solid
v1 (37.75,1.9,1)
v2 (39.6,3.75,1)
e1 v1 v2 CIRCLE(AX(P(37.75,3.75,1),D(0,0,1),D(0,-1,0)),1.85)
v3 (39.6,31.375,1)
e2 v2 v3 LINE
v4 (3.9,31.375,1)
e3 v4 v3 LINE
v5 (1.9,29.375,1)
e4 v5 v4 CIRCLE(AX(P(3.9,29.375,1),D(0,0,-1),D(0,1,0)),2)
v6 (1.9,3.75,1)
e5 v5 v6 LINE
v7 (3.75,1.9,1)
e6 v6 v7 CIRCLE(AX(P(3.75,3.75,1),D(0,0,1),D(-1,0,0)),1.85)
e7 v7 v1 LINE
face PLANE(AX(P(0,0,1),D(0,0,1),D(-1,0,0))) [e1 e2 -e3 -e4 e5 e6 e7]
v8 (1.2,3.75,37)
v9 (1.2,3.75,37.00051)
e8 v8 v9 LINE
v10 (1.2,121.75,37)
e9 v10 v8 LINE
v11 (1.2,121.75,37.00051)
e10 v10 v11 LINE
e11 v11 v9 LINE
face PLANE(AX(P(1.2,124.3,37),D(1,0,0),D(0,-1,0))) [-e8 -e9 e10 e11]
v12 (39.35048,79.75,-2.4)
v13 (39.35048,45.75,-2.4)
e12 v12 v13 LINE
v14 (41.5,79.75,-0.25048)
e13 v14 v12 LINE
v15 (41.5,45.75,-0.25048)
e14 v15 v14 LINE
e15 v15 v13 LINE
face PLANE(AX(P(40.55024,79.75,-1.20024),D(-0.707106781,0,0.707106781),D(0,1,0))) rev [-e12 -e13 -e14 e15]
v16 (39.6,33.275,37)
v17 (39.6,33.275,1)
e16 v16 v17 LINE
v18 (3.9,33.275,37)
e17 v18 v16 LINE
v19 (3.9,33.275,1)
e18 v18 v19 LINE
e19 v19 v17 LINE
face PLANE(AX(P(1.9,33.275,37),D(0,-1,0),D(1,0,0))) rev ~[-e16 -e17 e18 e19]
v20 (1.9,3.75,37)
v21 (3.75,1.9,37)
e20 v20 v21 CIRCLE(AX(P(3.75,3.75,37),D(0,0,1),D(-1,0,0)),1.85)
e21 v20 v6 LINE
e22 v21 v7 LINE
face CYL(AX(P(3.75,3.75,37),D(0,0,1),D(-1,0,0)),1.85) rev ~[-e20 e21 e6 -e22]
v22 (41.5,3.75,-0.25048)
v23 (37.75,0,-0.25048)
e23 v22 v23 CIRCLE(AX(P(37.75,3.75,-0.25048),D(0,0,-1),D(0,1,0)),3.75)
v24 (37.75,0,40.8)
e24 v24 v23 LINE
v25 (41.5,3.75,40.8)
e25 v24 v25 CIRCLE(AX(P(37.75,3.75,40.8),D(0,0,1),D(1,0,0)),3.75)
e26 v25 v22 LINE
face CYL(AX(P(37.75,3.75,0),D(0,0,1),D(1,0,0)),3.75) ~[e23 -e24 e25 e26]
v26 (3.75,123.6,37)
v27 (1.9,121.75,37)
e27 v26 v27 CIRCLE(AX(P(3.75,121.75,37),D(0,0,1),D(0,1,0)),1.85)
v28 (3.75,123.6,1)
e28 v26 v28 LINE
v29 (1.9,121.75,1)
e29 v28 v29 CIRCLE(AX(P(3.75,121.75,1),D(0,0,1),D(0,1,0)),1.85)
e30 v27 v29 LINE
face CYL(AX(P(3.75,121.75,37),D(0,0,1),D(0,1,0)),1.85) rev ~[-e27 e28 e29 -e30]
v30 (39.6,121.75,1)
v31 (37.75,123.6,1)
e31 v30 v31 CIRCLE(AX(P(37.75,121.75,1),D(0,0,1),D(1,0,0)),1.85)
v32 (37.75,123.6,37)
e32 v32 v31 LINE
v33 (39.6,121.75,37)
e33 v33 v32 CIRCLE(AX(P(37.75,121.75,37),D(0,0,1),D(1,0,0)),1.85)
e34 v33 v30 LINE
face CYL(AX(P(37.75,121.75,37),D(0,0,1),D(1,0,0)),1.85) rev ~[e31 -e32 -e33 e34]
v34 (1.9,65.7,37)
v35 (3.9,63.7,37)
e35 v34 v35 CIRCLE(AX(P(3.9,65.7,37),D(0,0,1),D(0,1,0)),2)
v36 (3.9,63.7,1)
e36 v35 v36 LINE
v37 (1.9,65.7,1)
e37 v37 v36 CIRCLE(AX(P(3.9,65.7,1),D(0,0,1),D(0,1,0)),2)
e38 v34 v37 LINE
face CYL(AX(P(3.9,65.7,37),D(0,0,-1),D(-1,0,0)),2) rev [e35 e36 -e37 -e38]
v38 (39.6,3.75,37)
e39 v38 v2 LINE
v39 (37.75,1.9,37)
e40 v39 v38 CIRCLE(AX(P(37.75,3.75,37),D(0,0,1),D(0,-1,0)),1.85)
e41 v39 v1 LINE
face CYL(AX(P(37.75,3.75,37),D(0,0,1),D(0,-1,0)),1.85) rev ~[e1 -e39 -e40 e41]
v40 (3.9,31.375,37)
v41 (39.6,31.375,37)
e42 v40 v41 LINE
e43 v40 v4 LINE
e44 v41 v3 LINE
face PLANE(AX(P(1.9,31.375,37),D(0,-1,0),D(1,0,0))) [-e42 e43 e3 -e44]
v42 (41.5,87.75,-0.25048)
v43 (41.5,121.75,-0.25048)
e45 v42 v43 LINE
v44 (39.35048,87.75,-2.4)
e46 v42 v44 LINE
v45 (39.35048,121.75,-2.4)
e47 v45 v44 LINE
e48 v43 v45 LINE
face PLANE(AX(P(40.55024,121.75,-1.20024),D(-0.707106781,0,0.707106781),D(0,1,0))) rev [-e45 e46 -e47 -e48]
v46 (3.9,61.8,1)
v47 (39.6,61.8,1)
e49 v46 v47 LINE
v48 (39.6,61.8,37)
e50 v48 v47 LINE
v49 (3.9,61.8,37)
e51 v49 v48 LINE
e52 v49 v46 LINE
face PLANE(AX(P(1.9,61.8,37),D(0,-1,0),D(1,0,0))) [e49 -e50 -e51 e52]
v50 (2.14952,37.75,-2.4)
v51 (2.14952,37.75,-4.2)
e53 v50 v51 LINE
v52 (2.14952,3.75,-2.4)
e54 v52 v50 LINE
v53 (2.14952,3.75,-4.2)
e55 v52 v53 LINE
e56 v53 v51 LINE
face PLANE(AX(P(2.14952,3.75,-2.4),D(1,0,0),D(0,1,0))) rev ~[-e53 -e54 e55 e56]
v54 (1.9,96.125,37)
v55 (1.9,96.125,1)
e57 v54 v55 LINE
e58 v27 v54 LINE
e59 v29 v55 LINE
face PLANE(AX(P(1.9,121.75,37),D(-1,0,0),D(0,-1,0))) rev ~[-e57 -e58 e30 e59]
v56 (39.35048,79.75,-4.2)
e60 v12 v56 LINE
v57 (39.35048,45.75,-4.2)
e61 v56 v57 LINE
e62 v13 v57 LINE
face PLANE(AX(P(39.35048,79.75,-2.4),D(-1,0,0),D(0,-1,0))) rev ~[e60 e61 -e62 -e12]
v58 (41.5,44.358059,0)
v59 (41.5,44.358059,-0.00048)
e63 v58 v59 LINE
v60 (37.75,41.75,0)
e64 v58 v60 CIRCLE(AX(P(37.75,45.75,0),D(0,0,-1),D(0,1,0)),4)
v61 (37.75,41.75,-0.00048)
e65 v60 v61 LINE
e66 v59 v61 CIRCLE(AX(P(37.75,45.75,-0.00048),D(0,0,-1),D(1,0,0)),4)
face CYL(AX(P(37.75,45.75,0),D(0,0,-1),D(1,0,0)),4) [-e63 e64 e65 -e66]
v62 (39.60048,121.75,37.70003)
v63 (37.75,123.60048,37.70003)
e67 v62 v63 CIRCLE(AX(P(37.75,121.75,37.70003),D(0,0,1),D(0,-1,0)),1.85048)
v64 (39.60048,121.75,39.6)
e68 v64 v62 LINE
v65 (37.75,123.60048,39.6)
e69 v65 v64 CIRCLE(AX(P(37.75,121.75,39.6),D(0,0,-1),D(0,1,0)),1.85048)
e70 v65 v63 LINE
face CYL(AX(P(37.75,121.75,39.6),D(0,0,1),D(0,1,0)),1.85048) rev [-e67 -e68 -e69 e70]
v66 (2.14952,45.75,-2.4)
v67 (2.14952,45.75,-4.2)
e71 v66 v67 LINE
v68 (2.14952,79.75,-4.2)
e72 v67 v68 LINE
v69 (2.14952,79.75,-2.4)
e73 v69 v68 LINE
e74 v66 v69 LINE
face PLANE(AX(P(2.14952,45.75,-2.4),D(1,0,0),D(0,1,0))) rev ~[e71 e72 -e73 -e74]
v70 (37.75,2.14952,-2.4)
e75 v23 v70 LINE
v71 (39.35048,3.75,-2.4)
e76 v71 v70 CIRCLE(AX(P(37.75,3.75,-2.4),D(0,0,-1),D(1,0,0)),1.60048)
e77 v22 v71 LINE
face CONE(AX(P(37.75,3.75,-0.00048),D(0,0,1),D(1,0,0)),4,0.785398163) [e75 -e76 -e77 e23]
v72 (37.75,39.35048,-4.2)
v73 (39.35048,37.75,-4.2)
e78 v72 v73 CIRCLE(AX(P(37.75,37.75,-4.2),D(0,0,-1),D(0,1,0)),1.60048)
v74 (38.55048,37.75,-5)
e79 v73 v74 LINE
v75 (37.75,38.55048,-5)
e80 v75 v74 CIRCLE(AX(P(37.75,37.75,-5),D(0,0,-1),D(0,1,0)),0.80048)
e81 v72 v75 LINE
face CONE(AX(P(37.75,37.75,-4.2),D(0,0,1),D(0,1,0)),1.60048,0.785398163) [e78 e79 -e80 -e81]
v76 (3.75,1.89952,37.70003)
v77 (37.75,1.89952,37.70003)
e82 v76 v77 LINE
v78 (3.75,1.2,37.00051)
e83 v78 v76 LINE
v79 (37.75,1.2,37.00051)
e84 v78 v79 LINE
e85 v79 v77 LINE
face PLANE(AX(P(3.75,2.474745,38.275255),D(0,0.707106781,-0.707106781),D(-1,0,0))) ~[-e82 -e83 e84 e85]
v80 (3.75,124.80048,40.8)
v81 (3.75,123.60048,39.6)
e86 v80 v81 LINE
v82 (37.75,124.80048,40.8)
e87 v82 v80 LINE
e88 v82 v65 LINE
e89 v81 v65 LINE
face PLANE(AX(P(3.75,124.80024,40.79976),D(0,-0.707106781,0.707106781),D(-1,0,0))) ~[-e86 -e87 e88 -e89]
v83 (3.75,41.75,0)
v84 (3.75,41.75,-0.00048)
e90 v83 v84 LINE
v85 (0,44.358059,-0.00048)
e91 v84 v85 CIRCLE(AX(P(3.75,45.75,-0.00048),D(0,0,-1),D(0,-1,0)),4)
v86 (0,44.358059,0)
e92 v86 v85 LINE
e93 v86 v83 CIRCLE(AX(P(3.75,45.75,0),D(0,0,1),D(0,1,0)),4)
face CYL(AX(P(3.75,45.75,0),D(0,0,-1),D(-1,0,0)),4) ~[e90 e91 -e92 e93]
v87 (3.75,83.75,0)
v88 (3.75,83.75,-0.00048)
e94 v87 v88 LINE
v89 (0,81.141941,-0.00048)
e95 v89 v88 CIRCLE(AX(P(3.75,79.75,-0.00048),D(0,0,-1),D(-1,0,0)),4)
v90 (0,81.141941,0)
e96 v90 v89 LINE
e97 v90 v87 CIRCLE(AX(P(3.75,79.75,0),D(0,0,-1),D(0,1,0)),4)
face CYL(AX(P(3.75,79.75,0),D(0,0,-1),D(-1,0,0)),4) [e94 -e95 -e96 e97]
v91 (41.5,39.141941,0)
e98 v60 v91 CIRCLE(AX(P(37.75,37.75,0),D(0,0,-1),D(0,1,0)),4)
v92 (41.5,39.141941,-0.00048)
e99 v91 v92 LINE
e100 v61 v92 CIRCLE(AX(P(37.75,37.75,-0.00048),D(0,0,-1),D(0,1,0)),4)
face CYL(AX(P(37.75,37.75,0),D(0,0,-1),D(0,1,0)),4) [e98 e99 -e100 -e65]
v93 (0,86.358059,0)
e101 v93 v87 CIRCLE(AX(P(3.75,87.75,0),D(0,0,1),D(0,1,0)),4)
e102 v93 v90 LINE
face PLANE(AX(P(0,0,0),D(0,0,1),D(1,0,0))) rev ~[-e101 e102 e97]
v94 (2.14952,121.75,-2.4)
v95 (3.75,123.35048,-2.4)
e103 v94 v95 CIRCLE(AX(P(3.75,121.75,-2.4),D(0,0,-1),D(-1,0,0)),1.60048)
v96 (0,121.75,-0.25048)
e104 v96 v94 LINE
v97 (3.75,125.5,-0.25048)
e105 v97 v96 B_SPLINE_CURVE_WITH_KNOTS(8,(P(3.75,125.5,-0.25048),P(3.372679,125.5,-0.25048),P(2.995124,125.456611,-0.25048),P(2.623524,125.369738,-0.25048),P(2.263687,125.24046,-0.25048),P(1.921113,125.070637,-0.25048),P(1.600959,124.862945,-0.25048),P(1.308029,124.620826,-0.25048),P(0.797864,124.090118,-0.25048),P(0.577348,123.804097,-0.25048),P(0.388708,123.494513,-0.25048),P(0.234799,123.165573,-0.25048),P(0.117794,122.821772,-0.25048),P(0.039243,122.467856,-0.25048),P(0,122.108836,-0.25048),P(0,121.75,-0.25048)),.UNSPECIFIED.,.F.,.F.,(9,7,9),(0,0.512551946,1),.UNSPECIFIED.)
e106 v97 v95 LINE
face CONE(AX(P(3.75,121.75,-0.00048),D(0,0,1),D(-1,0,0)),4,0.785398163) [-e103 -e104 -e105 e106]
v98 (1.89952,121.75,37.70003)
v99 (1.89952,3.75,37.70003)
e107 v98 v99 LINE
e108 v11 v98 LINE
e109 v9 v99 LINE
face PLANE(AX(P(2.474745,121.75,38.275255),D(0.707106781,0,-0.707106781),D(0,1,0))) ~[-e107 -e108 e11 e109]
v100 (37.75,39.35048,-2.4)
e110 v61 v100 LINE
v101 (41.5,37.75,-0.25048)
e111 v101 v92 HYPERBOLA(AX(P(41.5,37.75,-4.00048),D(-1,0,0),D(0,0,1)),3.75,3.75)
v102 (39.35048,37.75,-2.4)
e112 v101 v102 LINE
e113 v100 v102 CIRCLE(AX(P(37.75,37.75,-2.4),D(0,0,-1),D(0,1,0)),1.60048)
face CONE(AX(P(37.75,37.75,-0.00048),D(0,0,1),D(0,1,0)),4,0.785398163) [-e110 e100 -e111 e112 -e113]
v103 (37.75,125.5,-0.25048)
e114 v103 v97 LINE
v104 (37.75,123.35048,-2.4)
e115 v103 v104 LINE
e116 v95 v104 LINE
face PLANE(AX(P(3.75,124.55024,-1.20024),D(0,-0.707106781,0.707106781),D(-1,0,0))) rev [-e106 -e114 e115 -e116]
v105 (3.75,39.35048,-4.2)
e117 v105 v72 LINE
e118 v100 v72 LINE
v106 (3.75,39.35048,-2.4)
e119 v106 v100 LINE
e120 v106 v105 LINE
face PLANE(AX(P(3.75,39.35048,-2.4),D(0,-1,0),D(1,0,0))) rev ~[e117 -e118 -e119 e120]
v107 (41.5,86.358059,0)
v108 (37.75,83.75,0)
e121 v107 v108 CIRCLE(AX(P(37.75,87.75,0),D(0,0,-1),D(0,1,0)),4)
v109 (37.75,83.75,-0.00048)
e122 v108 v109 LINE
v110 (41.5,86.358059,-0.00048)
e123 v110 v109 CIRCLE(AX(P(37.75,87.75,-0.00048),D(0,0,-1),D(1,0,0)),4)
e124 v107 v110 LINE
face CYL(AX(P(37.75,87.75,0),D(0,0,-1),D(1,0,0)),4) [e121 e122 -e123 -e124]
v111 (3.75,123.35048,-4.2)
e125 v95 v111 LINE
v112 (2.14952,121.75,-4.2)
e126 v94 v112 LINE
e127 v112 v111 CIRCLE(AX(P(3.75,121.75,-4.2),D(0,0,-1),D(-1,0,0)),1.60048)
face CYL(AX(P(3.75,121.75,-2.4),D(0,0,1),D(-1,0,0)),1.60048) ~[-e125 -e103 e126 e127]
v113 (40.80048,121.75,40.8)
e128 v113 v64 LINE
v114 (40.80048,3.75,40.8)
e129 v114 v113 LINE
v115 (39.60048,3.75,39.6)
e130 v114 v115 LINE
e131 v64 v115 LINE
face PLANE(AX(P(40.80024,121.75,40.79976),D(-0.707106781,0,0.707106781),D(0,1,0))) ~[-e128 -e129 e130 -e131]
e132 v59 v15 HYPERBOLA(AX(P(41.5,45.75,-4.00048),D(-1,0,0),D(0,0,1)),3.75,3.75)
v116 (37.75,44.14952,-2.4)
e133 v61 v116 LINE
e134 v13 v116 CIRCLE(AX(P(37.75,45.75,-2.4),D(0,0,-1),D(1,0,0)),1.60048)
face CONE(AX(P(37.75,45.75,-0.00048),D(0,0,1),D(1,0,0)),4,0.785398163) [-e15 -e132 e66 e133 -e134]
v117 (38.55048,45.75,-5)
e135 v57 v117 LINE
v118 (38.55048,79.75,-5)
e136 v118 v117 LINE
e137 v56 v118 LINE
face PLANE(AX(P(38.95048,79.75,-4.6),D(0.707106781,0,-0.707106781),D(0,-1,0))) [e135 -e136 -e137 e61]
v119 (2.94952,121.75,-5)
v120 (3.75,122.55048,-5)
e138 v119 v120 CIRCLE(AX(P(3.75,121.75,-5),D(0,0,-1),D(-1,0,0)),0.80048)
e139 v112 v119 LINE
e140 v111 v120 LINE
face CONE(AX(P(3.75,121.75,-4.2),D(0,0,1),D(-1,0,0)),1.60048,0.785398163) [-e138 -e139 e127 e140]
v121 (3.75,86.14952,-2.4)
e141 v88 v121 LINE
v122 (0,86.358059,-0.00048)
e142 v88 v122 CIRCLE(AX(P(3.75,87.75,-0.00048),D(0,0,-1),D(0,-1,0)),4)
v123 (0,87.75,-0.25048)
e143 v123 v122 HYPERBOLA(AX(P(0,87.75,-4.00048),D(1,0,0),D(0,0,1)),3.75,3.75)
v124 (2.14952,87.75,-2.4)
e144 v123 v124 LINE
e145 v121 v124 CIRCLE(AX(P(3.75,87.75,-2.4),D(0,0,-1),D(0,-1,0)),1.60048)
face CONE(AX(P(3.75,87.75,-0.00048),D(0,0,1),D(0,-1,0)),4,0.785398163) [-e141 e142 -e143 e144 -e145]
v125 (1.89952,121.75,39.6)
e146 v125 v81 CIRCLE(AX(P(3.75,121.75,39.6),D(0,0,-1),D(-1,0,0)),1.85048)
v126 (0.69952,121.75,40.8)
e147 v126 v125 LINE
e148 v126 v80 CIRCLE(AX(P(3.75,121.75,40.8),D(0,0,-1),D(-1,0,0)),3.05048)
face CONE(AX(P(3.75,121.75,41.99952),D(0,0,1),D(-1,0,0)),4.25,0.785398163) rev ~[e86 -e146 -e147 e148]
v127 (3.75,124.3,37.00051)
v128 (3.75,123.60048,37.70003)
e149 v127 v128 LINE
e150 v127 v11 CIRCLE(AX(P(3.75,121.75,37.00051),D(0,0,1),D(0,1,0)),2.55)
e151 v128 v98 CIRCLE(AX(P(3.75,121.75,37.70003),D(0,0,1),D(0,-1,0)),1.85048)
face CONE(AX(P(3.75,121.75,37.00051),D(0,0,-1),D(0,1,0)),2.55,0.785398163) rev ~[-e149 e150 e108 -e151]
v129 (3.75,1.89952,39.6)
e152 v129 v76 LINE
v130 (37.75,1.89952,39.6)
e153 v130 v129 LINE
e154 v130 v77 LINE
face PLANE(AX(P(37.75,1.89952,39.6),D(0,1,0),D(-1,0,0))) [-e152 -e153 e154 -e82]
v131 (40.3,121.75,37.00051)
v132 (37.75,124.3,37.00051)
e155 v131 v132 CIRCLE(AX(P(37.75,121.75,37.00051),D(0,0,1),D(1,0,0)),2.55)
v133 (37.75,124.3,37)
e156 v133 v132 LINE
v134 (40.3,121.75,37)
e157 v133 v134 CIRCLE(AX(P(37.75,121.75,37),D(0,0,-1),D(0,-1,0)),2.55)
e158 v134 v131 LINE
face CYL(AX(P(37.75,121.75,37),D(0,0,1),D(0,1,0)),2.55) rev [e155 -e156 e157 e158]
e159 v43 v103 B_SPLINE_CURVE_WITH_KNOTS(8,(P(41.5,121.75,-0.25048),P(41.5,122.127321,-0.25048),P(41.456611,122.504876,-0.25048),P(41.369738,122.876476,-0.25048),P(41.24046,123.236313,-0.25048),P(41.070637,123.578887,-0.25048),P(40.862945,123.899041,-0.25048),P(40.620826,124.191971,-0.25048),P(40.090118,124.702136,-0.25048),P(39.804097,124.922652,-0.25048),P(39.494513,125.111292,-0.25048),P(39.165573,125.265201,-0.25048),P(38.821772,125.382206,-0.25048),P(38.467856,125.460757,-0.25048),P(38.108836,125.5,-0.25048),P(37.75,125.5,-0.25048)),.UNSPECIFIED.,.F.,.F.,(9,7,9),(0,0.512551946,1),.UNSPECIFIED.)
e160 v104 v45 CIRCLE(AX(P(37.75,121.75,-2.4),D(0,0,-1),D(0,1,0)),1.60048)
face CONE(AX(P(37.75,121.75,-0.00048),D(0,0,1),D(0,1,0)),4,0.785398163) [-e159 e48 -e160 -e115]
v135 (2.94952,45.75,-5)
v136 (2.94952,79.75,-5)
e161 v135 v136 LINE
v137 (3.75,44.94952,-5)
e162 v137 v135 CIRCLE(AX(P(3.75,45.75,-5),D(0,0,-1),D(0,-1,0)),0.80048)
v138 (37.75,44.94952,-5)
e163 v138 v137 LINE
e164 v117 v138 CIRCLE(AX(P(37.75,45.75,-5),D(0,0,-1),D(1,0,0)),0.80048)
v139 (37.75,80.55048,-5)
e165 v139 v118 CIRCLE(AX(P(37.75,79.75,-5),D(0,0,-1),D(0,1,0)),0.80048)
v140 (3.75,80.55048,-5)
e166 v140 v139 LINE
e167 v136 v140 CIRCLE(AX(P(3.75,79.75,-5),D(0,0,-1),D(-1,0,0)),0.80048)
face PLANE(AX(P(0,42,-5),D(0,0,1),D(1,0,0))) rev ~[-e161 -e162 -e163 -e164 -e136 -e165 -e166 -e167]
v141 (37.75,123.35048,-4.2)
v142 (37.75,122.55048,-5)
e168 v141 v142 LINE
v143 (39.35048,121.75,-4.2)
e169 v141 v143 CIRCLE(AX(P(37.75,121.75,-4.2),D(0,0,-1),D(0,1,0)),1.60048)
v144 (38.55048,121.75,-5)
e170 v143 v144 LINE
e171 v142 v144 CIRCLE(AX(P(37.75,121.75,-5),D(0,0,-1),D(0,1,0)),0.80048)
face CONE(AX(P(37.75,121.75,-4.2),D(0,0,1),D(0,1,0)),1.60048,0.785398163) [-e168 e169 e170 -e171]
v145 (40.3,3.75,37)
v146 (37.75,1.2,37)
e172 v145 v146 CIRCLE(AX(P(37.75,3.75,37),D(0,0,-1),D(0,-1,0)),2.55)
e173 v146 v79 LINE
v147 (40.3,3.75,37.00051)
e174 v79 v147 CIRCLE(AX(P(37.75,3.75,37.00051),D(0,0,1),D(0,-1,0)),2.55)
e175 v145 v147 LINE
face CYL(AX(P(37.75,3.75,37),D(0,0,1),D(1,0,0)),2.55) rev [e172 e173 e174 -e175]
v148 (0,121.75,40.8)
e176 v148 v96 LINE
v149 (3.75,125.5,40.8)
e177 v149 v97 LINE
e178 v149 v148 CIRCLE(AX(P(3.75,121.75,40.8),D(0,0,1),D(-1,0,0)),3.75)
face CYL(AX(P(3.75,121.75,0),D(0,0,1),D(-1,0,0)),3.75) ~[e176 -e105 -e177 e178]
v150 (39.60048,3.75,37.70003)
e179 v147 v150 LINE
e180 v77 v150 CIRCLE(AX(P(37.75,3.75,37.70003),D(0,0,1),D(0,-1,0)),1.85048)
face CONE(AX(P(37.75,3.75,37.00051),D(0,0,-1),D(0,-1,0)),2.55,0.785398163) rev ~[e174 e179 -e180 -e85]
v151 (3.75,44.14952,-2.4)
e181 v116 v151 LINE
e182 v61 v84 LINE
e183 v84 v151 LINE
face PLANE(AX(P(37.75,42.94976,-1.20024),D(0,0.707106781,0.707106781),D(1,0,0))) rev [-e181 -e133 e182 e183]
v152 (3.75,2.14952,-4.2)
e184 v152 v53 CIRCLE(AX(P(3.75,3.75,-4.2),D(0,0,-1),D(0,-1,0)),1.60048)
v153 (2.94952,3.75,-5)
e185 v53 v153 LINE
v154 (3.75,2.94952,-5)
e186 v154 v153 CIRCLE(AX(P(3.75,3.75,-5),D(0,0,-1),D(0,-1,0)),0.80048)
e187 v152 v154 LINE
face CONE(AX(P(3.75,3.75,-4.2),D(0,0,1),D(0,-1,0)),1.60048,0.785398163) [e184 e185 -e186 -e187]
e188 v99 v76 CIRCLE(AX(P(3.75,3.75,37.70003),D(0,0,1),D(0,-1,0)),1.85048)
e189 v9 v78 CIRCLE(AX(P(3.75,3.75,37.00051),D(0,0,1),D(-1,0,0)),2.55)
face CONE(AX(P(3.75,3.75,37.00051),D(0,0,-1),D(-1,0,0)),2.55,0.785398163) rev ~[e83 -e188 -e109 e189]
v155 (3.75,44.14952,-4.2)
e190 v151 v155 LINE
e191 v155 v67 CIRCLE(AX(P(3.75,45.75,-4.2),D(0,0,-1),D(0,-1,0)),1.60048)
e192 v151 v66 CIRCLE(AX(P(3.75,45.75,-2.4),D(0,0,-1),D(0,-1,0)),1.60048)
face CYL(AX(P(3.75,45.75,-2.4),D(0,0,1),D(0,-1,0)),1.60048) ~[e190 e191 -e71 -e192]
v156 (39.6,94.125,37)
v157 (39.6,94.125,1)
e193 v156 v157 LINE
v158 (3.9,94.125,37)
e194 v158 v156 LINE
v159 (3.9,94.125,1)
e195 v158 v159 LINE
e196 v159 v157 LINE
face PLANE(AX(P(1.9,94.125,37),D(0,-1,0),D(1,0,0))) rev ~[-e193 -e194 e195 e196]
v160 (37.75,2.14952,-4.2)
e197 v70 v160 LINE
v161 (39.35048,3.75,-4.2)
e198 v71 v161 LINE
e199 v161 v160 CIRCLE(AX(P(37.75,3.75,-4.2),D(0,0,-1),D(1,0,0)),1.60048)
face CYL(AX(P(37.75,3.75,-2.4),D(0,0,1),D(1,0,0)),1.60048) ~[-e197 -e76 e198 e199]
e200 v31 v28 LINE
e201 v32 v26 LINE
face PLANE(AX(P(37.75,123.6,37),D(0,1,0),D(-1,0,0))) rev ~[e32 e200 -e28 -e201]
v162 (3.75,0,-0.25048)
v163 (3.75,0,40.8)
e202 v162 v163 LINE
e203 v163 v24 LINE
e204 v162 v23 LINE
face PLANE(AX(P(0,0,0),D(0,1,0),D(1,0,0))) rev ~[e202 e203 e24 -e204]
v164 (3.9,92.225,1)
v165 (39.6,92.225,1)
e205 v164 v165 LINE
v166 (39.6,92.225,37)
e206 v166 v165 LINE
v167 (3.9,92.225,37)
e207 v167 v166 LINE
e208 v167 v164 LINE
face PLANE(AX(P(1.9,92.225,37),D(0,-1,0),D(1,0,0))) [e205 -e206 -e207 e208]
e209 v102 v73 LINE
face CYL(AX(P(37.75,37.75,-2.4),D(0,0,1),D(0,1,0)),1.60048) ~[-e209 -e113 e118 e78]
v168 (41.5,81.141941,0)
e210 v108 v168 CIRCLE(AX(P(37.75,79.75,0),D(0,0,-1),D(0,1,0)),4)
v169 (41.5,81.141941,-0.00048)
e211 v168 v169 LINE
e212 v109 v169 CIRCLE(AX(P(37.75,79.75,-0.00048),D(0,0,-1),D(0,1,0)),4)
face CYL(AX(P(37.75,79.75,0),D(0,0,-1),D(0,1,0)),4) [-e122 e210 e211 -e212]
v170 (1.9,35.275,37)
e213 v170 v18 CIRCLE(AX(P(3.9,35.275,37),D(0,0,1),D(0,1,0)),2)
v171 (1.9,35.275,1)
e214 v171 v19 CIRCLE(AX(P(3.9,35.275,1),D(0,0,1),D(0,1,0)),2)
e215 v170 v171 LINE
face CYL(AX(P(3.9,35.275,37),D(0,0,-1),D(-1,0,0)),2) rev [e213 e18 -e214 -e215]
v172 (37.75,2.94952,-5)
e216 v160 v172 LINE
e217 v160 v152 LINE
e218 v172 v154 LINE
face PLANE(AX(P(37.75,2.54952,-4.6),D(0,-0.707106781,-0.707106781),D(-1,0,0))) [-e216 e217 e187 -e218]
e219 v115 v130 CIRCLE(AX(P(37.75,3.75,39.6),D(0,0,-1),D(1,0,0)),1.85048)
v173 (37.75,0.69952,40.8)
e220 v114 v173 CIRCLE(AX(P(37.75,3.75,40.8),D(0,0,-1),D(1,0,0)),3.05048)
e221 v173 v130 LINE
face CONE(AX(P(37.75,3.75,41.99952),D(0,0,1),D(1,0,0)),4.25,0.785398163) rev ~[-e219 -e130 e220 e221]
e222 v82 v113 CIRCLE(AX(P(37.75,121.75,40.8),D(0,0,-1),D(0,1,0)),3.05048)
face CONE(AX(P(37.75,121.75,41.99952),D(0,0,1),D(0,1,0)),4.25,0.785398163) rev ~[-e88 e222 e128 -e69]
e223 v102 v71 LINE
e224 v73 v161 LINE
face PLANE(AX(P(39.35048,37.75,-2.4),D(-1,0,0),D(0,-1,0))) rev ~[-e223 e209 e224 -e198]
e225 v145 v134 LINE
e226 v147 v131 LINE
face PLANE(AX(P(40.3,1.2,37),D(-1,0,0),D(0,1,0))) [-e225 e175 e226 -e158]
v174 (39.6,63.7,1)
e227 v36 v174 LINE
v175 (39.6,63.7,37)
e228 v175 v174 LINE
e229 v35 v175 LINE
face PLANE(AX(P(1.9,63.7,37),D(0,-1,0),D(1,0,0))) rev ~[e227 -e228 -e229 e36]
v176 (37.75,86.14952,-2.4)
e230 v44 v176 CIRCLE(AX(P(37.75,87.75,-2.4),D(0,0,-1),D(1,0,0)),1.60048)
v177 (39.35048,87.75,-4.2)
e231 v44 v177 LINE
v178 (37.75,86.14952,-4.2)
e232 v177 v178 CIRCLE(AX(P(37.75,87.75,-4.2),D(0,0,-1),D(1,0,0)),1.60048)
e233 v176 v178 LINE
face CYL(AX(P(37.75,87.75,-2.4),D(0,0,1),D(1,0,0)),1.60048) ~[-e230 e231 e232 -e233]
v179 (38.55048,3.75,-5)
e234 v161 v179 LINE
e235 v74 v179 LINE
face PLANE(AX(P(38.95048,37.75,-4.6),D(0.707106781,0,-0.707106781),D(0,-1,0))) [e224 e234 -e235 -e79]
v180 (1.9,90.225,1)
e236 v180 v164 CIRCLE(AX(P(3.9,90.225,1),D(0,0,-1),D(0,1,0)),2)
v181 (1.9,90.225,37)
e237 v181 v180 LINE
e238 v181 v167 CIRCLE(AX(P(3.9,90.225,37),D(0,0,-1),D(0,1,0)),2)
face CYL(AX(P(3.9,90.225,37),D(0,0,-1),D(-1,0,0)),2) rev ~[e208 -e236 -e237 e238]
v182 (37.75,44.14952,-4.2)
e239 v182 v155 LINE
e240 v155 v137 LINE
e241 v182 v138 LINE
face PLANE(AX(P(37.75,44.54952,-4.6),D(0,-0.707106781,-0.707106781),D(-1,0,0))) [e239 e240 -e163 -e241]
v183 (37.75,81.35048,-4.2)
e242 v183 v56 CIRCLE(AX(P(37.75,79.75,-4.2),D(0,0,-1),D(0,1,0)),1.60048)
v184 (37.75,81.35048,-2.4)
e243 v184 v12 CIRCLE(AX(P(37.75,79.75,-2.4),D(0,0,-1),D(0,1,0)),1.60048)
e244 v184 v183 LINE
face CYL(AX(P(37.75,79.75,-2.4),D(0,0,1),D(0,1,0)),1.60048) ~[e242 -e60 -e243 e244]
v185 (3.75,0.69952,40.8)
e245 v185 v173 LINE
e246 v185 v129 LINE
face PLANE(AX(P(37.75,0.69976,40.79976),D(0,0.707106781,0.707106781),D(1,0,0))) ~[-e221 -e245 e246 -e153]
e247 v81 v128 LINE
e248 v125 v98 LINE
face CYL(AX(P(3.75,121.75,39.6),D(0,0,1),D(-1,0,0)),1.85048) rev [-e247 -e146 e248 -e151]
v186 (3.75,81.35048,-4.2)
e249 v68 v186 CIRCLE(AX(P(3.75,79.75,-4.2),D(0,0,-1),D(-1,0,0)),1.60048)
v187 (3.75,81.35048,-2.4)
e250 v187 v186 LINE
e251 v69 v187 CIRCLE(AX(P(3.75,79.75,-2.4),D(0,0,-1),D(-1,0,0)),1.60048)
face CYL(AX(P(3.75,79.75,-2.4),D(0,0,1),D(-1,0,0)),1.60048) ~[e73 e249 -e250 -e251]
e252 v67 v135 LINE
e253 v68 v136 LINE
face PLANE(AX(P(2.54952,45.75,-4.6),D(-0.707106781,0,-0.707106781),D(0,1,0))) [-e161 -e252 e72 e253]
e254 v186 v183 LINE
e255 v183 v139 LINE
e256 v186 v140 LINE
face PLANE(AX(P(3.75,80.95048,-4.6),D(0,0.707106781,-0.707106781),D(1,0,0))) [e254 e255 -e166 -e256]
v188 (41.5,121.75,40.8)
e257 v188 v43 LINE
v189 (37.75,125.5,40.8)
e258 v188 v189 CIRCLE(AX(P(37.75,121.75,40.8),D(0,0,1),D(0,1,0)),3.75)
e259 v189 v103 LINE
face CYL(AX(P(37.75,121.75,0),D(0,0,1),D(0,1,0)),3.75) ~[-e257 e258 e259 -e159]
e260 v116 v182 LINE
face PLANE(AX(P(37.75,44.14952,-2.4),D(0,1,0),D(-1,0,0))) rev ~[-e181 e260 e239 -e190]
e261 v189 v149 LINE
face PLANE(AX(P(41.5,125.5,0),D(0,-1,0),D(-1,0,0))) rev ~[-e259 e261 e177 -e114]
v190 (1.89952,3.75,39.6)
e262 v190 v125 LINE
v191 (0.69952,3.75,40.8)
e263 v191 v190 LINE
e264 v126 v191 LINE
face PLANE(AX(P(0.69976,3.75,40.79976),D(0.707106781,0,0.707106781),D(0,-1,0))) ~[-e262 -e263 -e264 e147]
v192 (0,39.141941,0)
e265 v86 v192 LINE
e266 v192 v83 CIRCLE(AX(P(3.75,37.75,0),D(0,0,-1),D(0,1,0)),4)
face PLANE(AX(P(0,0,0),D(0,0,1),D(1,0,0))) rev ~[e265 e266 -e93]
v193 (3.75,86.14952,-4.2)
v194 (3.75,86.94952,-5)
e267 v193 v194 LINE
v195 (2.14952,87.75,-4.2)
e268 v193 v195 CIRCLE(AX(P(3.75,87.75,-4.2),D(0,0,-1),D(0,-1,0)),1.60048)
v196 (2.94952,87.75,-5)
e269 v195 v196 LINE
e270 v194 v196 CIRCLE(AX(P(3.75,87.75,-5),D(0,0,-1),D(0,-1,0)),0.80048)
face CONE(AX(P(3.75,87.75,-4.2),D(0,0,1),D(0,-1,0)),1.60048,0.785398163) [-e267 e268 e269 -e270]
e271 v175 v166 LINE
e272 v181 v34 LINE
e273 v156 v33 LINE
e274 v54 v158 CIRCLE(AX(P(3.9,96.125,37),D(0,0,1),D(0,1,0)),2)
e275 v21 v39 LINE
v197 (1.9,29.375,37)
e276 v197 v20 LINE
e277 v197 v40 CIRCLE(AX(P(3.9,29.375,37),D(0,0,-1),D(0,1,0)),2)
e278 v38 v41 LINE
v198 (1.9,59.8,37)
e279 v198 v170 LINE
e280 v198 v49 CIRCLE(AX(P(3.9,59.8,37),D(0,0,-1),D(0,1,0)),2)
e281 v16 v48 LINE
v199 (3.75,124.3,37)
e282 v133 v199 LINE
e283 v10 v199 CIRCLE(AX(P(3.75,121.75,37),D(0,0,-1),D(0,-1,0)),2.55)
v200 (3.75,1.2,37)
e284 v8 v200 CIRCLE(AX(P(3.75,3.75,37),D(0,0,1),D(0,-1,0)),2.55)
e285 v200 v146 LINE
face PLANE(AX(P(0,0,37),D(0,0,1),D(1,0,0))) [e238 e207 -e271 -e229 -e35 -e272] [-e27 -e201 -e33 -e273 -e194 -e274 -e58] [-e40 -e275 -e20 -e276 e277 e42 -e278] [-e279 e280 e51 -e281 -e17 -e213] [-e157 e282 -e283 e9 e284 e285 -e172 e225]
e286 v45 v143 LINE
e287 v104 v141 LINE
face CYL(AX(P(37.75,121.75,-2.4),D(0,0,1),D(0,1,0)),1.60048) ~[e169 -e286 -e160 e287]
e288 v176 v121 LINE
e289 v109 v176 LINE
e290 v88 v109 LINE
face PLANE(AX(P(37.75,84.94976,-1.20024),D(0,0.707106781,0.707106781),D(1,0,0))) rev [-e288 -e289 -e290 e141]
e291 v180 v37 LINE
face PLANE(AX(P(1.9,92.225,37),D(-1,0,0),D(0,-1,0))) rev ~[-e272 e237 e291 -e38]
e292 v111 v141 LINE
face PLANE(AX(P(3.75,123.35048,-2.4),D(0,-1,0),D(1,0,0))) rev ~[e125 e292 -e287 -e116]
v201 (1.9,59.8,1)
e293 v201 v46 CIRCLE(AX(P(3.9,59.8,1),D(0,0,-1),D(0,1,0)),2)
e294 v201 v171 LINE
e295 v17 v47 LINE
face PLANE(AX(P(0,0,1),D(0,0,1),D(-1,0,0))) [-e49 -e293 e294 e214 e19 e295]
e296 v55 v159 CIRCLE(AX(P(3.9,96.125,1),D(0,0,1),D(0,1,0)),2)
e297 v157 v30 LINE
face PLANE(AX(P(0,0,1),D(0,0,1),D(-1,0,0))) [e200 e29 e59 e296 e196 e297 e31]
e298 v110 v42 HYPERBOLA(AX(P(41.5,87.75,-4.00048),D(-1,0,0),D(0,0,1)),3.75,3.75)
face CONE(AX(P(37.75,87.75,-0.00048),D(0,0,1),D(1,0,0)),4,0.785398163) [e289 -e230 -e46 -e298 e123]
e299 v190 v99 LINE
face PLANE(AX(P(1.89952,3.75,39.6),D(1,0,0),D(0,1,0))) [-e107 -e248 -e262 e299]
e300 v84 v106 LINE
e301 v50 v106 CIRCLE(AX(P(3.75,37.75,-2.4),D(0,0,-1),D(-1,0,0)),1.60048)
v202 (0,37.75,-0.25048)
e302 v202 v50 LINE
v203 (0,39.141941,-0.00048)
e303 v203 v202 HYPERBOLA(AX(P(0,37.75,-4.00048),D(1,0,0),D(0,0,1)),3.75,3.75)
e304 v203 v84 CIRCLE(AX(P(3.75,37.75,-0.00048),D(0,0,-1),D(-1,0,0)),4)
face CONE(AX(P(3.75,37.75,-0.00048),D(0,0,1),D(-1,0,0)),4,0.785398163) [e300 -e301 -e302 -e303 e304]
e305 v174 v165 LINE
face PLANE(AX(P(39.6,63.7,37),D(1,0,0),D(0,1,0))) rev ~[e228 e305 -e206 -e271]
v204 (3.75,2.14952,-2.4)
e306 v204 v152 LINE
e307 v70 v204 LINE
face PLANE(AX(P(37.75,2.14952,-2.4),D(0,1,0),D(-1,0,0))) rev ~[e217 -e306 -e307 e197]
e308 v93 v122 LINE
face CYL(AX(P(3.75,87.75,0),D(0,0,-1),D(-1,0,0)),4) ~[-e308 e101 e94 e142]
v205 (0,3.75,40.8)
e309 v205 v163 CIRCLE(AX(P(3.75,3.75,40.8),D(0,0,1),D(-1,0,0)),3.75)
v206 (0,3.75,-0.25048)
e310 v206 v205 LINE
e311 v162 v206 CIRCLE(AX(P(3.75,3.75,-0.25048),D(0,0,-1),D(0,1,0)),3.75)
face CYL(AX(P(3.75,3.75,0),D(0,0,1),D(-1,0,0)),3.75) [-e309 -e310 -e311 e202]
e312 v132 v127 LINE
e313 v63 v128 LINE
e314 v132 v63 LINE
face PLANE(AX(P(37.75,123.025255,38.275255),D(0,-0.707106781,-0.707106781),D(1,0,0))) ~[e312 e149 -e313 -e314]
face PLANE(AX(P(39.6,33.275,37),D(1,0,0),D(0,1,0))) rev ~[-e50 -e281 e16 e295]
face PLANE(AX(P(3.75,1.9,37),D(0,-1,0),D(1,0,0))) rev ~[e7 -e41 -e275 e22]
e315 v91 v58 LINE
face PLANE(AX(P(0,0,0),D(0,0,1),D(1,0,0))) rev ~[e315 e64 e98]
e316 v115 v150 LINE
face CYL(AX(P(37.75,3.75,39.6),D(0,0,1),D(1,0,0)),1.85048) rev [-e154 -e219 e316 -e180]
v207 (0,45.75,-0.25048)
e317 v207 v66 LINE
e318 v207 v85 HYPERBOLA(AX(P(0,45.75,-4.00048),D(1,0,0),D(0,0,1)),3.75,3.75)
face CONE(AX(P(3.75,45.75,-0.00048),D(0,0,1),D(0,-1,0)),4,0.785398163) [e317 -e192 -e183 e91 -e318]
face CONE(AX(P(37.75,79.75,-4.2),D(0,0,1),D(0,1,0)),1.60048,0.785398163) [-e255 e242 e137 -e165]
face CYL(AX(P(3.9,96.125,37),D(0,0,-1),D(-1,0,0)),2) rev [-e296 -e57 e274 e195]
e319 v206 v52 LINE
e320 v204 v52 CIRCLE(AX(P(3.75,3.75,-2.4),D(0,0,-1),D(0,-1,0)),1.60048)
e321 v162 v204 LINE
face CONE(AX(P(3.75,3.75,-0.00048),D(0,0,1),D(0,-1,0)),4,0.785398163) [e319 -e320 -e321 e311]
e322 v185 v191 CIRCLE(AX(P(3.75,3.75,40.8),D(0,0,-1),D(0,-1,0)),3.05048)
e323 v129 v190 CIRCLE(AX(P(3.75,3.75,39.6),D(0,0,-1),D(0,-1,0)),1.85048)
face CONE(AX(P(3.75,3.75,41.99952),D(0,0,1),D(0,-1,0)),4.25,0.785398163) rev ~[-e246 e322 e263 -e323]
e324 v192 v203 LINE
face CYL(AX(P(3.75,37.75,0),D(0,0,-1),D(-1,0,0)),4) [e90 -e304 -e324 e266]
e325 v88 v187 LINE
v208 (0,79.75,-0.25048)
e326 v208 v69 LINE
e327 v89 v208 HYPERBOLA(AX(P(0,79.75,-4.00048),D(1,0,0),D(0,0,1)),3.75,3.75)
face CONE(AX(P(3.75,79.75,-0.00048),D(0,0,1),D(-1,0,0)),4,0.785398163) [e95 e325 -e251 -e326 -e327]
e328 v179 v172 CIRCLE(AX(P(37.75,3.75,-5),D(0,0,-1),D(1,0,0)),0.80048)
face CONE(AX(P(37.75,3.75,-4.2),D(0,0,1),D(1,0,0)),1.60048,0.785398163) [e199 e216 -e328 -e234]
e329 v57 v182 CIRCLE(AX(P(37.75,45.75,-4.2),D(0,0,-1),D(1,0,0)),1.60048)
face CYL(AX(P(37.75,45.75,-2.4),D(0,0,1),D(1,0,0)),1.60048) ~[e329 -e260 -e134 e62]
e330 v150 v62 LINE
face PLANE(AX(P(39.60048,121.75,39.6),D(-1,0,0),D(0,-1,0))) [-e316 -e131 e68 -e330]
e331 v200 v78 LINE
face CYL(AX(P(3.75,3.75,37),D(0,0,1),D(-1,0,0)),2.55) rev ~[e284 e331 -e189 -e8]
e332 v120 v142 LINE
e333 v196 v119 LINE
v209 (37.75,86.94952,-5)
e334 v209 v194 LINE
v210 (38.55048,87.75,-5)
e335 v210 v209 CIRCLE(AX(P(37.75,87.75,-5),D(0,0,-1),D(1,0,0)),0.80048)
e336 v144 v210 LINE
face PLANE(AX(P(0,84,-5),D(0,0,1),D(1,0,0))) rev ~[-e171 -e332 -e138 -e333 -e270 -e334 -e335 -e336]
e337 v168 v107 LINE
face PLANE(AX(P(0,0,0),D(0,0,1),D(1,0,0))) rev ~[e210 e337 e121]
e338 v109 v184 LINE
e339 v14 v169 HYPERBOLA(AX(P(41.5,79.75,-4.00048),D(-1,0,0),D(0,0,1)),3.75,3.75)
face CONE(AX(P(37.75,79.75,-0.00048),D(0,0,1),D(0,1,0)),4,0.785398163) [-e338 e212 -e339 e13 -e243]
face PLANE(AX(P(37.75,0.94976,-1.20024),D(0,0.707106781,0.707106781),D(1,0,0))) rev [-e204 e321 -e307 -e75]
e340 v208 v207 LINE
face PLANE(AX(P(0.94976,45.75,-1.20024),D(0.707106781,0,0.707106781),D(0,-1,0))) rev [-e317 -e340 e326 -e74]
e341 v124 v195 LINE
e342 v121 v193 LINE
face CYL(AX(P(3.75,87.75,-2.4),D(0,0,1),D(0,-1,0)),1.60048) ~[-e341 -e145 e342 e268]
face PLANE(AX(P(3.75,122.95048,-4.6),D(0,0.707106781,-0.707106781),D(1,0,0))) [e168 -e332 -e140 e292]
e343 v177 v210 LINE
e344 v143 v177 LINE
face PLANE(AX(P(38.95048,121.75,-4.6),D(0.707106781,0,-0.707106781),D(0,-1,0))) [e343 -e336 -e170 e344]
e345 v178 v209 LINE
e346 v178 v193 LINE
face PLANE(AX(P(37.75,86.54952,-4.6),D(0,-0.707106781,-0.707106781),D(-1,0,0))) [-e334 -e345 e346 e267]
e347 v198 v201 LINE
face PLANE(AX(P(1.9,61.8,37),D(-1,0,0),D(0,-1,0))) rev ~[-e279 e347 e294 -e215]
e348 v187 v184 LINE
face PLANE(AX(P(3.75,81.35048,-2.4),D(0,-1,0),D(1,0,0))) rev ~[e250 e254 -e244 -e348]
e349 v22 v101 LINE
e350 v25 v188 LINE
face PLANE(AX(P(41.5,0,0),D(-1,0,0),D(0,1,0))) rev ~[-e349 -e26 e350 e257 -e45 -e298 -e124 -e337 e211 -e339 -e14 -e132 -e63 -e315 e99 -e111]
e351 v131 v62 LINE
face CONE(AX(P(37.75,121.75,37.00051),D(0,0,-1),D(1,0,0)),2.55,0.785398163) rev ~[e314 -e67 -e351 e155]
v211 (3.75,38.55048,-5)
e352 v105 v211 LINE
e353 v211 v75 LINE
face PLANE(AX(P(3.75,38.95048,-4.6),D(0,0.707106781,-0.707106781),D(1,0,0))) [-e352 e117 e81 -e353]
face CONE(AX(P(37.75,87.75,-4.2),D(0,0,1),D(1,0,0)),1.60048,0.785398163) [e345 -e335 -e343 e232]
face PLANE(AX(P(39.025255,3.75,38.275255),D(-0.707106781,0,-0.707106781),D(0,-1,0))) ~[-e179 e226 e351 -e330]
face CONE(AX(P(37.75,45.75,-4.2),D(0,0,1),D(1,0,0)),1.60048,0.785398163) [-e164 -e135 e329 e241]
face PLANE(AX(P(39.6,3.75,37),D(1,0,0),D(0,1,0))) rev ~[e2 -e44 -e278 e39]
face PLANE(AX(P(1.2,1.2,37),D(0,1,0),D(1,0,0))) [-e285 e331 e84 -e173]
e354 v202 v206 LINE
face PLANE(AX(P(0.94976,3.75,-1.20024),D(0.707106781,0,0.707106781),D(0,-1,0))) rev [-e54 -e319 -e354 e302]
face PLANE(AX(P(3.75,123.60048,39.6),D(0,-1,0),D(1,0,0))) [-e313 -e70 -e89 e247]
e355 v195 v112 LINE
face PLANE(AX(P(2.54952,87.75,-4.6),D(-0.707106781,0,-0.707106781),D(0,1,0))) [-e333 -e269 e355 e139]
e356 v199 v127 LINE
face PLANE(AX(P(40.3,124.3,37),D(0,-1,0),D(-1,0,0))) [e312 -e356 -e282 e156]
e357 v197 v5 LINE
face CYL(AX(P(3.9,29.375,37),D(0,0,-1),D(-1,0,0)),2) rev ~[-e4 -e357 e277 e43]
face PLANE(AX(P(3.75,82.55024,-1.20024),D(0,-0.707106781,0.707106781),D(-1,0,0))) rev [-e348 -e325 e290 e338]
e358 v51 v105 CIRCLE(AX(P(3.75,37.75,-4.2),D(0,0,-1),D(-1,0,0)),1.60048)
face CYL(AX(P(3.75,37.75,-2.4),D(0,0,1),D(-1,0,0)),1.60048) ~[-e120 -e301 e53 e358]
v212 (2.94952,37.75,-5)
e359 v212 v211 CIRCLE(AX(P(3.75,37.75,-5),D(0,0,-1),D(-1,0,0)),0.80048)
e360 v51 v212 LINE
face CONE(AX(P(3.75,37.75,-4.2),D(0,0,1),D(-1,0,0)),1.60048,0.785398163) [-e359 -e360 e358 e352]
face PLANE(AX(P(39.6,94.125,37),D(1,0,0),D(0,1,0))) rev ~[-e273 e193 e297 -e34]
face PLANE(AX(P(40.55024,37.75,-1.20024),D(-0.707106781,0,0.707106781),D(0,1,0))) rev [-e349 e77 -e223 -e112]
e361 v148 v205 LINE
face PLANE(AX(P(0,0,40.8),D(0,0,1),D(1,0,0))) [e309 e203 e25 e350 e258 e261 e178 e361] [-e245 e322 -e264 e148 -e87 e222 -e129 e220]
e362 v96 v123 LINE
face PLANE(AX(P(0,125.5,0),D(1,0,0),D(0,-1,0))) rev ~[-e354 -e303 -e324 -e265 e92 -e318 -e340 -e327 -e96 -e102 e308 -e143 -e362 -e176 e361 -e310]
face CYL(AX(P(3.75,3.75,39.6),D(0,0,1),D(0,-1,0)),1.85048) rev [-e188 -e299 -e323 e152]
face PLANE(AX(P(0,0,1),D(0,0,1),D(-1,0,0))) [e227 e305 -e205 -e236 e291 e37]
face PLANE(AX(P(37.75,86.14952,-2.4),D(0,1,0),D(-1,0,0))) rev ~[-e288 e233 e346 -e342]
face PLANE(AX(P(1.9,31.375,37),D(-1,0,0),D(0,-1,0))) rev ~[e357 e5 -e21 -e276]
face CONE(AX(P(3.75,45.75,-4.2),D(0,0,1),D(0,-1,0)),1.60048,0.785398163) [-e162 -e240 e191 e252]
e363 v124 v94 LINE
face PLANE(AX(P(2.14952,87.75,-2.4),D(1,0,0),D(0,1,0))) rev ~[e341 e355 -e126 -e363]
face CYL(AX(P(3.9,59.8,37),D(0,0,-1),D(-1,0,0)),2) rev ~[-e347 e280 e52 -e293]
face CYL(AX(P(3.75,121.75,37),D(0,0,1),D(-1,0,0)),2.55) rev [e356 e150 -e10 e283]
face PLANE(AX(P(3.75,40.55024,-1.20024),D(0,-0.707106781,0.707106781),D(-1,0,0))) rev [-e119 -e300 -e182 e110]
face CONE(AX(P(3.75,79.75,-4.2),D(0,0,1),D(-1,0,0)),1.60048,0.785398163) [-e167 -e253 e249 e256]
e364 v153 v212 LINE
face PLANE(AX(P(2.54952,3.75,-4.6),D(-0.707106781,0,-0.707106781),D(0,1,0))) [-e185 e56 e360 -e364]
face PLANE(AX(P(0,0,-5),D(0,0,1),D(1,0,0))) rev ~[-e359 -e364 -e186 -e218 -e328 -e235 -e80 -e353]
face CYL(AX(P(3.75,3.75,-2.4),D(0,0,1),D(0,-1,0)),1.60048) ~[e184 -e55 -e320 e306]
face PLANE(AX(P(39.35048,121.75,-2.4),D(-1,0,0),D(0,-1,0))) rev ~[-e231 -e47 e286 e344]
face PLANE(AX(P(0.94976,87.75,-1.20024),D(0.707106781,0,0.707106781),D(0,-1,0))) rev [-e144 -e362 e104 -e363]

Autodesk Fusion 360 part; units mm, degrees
ref_plane "WorkPlane1" through (0, 0, 0) normal (0, 0, 1) x (1, 0, 0) in component "Gridfinity bin 3x1x6"
sketch "Base plate sketch" plane through (0, 0, 0) normal (0, 0, 1) x (1, 0, 0) in component "Gridfinity bin 3x1x6"
  line L0 (-0.25, -0.25) -> (41.75, -0.25)
  line L1 (41.75, -0.25) -> (41.75, 41.75)
  line L2 (41.75, 41.75) -> (-0.25, 41.75)
  line L3 (-0.25, 41.75) -> (-0.25, -0.25)
  dimension "d2" = 0.25
  dimension "d3" = 0.25
  dimension "d4" = 42
  dimension "d5" = 42
extrude "Base top section extrude" add sketch "Base plate sketch" against normal blind 2.4 makes body 1 in component "Gridfinity bin 3x1x6"
fillet "Base corner fillet" radius 4 8 edges at (-0.25, -0.25, -1.2) (41.75, -0.25, -1.2) (41.75, -0.25, -1.2) (41.75, 41.75, -1.2) (41.75, 41.75, -1.2) (-0.25, 41.75, -1.2) (-0.25, 41.75, -1.2) (-0.25, -0.25, -1.2) on bodies 1 in component "Gridfinity bin 3x1x6"
chamfer "Chamfer1" distance 2.4 angle 45 8 edges at (0.9216, 40.5784, -2.4) (-0.25, 20.75, -2.4) (0.9216, 0.9216, -2.4) (20.75, -0.25, -2.4) (40.5784, 0.9216, -2.4) (41.75, 20.75, -2.4) (40.5784, 40.5784, -2.4) (20.75, 41.75, -2.4) on bodies 1 in component "Gridfinity bin 3x1x6"
extrude "Extrude2" add 1 faces at (15.6168, 15.0833, -2.4) along direction (0, 0, -1) blind 2.6 on bodies 1 bodies 1 in component "Gridfinity bin 3x1x6"
chamfer "Chamfer2" distance 0.8 angle 45 8 edges at (2.6186, 38.8814, -5) (20.75, 39.35, -5) (38.8814, 38.8814, -5) (39.35, 20.75, -5) (38.8814, 2.6186, -5) (20.75, 2.15, -5) (2.6186, 2.6186, -5) (2.15, 20.75, -5) on bodies 1 in component "Gridfinity bin 3x1x6"
pattern_linear "R-Pattern1" count 1 spacing 42 along (1, 0, 0) count 3 spacing 42 along (0, 1, 0) of bodies 1 makes body 2 at (26.4167, 55.75, 0) makes body 3 at (26.4167, 97.75, 0) in component "Gridfinity bin 3x1x6"
sketch "Simple box sketch" plane through (0, 0, 0) normal (0, 0, 1) x (1, 0, 0) in component "Gridfinity bin 3x1x6"
  line L0 (0, 0) -> (41.5, 0)
  line L1 (41.5, 0) -> (41.5, 125.5)
  line L2 (41.5, 125.5) -> (0, 125.5)
  line L3 (0, 125.5) -> (0, 0)
  dimension "d18" = 41.5
  dimension "d19" = 125.5
extrude "Simple box extrude" add sketch "Simple box sketch" along normal blind 37 separate body makes body 4 in component "Gridfinity bin 3x1x6"
fillet "Bin body corner fillets" radius 3.75 8 edges at (0, 125.5, 18.5) (41.5, 125.5, 18.5) (41.5, 125.5, 18.5) (41.5, 0, 18.5) (41.5, 0, 18.5) (0, 0, 18.5) (0, 0, 18.5) (0, 125.5, 18.5) on bodies 4 in component "Gridfinity bin 3x1x6"
ref_plane "WorkPlane2" through (0, 0, 37) normal (0, 0, 1) x (1, 0, 0) in component "Gridfinity bin 3x1x6"
sketch "Simple box at point sketch" plane through (0, 0, 37) normal (0, 0, 1) x (1, 0, 0) in component "Gridfinity bin 3x1x6"
  line L0 (0, 0) -> (41.5, 0)
  line L1 (41.5, 0) -> (41.5, 125.5)
  line L2 (41.5, 125.5) -> (0, 125.5)
  line L3 (0, 125.5) -> (0, 0)
  dimension "d25" = 41.5
  dimension "d26" = 125.5
extrude "Simple box at point extrude" add sketch "Simple box at point sketch" along normal blind 4.4 separate body makes body 5 in component "Gridfinity bin 3x1x6"
fillet "Lip body corner fillets" radius 3.75 8 edges at (0, 125.5, 39.2) (41.5, 125.5, 39.2) (41.5, 125.5, 39.2) (41.5, 0, 39.2) (41.5, 0, 39.2) (0, 0, 39.2) (0, 0, 39.2) (0, 125.5, 39.2) on bodies 5 in component "Gridfinity bin 3x1x6"
ref_plane "WorkPlane3" through (0, 0, 42) normal (0, 0, 1) x (1, 0, 0) in component "Gridfinity bin 3x1x6"
sketch "Base plate sketch (1)" plane through (0, 0, 42) normal (0, 0, 1) x (1, 0, 0) in component "Gridfinity bin 3x1x6"
  line L0 (-0.5, -0.5) -> (42, -0.5)
  line L1 (42, -0.5) -> (42, 126)
  line L2 (42, 126) -> (-0.5, 126)
  line L3 (-0.5, 126) -> (-0.5, -0.5)
  dimension "d32" = 0.5
  dimension "d33" = 0.5
  dimension "d34" = 42.5
  dimension "d35" = 126.5
extrude "Base top section extrude (1)" add sketch "Base plate sketch (1)" against normal blind 2.4 separate body makes body 6 in component "Gridfinity bin 3x1x6"
fillet "Base corner fillet (1)" radius 4.25 8 edges at (-0.5, -0.5, 40.8) (42, -0.5, 40.8) (42, -0.5, 40.8) (42, 126, 40.8) (42, 126, 40.8) (-0.5, 126, 40.8) (-0.5, 126, 40.8) (-0.5, -0.5, 40.8) on bodies 6 in component "Gridfinity bin 3x1x6"
chamfer "Chamfer3" distance 2.4 angle 45 8 edges at (0.7448, 124.7552, 39.6) (-0.5, 62.75, 39.6) (0.7448, 0.7448, 39.6) (20.75, -0.5, 39.6) (40.7552, 0.7448, 39.6) (42, 62.75, 39.6) (40.7552, 124.7552, 39.6) (20.75, 126, 39.6) on bodies 6 in component "Gridfinity bin 3x1x6"
extrude "Extrude6" add 1 faces at (27.0335, 43.0833, 39.6) along direction (0, 0, -1) blind 2.6 on bodies 6 bodies 6 in component "Gridfinity bin 3x1x6"
ref_plane "WorkPlane4" through (20.75, 62.75, 41.4) normal (0, 0, 1) x (1, 0, 0) in component "Gridfinity bin 3x1x6"
sketch "Lip top chamfer" plane through (0, 0, 41.4) normal (0, 0, 1) x (1, 0, 0) in component "Gridfinity bin 3x1x6"
  line L0 (0, 0) -> (41.5, 0)
  line L1 (41.5, 0) -> (41.5, 125.5)
  line L2 (41.5, 125.5) -> (0, 125.5)
  line L3 (0, 125.5) -> (0, 0)
  dimension "d44" = 41.5
  dimension "d45" = 125.5
extrude "Lip top chamfer cut" add sketch "Lip top chamfer" against normal blind 0.6 separate body makes body 7 in component "Gridfinity bin 3x1x6"
combine "Combine1" operation cut target body 5 tool bodies 7 6 in component "Gridfinity bin 3x1x6"
ref_plane "WorkPlane5" through (0, 0, 37) normal (0, 0, 1) x (1, 0, 0) in component "Gridfinity bin 3x1x6"
sketch "Simple box at point sketch (1)" plane through (0, 0, 37) normal (0, 0, 1) x (1, 0, 0) in component "Gridfinity bin 3x1x6"
  line L0 (1.2, 1.2) -> (40.3, 1.2)
  line L1 (40.3, 1.2) -> (40.3, 124.3)
  line L2 (40.3, 124.3) -> (1.2, 124.3)
  line L3 (1.2, 124.3) -> (1.2, 1.2)
  dimension "d49" = 1.2
  dimension "d50" = 1.2
  dimension "d51" = 39.1
  dimension "d52" = 123.1
extrude "Lip bottom chamfer extrude" add sketch "Simple box at point sketch (1)" along normal blind 2.55 separate body makes body 8 in component "Gridfinity bin 3x1x6"
fillet "Fillet5" radius 2.55 8 edges at (1.2, 124.3, 38.275) (40.3, 124.3, 38.275) (1.2, 1.2, 38.275) (1.2, 124.3, 38.275) (40.3, 124.3, 38.275) (40.3, 1.2, 38.275) (40.3, 1.2, 38.275) (1.2, 1.2, 38.275) on bodies 8 in component "Gridfinity bin 3x1x6"
chamfer "Chamfer4" distance 2.55 angle 45 8 edges at (1.9469, 1.9469, 39.55) (20.75, 1.2, 39.55) (39.5531, 1.9469, 39.55) (40.3, 62.75, 39.55) (39.5531, 123.5531, 39.55) (20.75, 124.3, 39.55) (1.9469, 123.5531, 39.55) (1.2, 62.75, 39.55) on bodies 8 in component "Gridfinity bin 3x1x6"
combine "Combine2" operation cut target body 5 tool bodies 8 in component "Gridfinity bin 3x1x6"
combine "Combine3" operation add target body 4 tool bodies 5 in component "Gridfinity bin 3x1x6"
ref_plane "WorkPlane6" through (0, 0, 0) normal (0, 0, 1) x (1, 0, 0) in component "Gridfinity bin 3x1x6"
sketch "Base clearance cut sketch" plane through (0, 0, 0) normal (0, 0, 1) x (1, 0, 0) in component "Gridfinity bin 3x1x6"
  line L0 (3.75, 0) -> (37.75, 0)
  line L1 (41.5, 3.75) -> (41.5, 121.75)
  line L2 (37.75, 125.5) -> (3.75, 125.5)
  line L3 (0, 121.75) -> (0, 3.75)
  arc A0 (37.75, 0) -> (41.5, 3.75) centre (37.75, 3.75) ccw
  arc A1 (41.5, 121.75) -> (37.75, 125.5) centre (37.75, 121.75) ccw
  arc A2 (3.75, 125.5) -> (0, 121.75) centre (3.75, 121.75) ccw
  arc A3 (0, 3.75) -> (3.75, 0) centre (3.75, 3.75) ccw
  arc A4 (37.75, -10) -> (51.5, 3.75) centre (37.75, 3.75) ccw
  line L4 (51.5, 3.75) -> (51.5, 121.75)
  arc A5 (51.5, 121.75) -> (37.75, 135.5) centre (37.75, 121.75) ccw
  line L5 (37.75, 135.5) -> (3.75, 135.5)
  arc A6 (3.75, 135.5) -> (-10, 121.75) centre (3.75, 121.75) ccw
  line L6 (-10, 121.75) -> (-10, 3.75)
  arc A7 (-10, 3.75) -> (3.75, -10) centre (3.75, 3.75) ccw
  line L7 (3.75, -10) -> (37.75, -10)
  point P0 (41.5, 0)
  point P1 (41.5, 125.5)
  dimension "d59" = 41.5
  dimension "d60" = 125.5
  dimension "d61" = 3.75
  dimension "d62" = 10
extrude "Base side clearance cut" cut sketch "Base clearance cut sketch" along normal blind 1000 and the other way blind 1000 bodies 1 2 3 4 in component "Gridfinity bin 3x1x6"
combine "Combine4" operation add target body 4 tool bodies 2 3 1 1 in component "Gridfinity bin 3x1x6"
sketch "Sketch8" plane through (0, 0, 37) normal (0, 0, 1) x (-1, 0, 0) in component "Gridfinity bin 3x1x6"
  line L0 (-3.75, -1.2) -> (-37.75, -1.2)
  arc A0 (-37.75, -1.2) -> (-40.3, -3.75) centre (-37.75, -3.75) ccw
  line L1 (-40.3, -3.75) -> (-40.3, -121.75)
  arc A1 (-40.3, -121.75) -> (-37.75, -124.3) centre (-37.75, -121.75) ccw
  line L2 (-37.75, -124.3) -> (-3.75, -124.3)
  arc A2 (-3.75, -124.3) -> (-1.2, -121.75) centre (-3.75, -121.75) ccw
  line L3 (-1.2, -121.75) -> (-1.2, -3.75)
  arc A3 (-1.2, -3.75) -> (-3.75, -1.2) centre (-3.75, -3.75) ccw
  line L4 (-1.9, -121.75) -> (-1.9, -3.75)
  arc A4 (-1.9, -3.75) -> (-3.75, -1.9) centre (-3.75, -3.75) ccw
  line L5 (-3.75, -1.9) -> (-37.75, -1.9)
  arc A5 (-37.75, -1.9) -> (-39.6, -3.75) centre (-37.75, -3.75) ccw
  line L6 (-39.6, -3.75) -> (-39.6, -121.75)
  arc A6 (-39.6, -121.75) -> (-37.75, -123.6) centre (-37.75, -121.75) ccw
  line L7 (-37.75, -123.6) -> (-3.75, -123.6)
  arc A7 (-3.75, -123.6) -> (-1.9, -121.75) centre (-3.75, -121.75) ccw
  line L8 (-1.9, -31.375) -> (-39.6, -31.375)
  line L9 (-1.9, -33.275) -> (-39.6, -33.275)
  line L10 (-1.9, -61.8) -> (-39.6, -61.8)
  line L11 (-1.9, -63.7) -> (-39.6, -63.7)
  line L12 (-1.9, -92.225) -> (-39.6, -92.225)
  line L13 (-1.9, -94.125) -> (-39.6, -94.125)
extrude "Extrude10" cut sketch "Sketch8" against normal blind 36 contours L4 L6 A6 L7 A7 L13 | L4 L6 L11 L12 | L4 L6 L9 L10 | L4 A4 L5 A5 L6 L8 bodies 4 in component "Gridfinity bin 3x1x6"
fillet "Fillet6" radius 2 6 edges at (1.9, 94.125, 19) (1.9, 63.7, 19) (1.9, 33.275, 19) (1.9, 61.8, 19) (1.9, 92.225, 19) (1.9, 31.375, 19) on bodies 4 in component "Gridfinity bin 3x1x6"
component "Gridfinity bin 3x1x6" placed x (1, 0, 0) y (0, 1, 0) z (0, 0, 1) at (0, 0, 0)
equation "d6 = -( 2.40 mm )"
equation "d36 = -( 2.40 mm )"
equation "d46 = -( 0.60 mm )"
